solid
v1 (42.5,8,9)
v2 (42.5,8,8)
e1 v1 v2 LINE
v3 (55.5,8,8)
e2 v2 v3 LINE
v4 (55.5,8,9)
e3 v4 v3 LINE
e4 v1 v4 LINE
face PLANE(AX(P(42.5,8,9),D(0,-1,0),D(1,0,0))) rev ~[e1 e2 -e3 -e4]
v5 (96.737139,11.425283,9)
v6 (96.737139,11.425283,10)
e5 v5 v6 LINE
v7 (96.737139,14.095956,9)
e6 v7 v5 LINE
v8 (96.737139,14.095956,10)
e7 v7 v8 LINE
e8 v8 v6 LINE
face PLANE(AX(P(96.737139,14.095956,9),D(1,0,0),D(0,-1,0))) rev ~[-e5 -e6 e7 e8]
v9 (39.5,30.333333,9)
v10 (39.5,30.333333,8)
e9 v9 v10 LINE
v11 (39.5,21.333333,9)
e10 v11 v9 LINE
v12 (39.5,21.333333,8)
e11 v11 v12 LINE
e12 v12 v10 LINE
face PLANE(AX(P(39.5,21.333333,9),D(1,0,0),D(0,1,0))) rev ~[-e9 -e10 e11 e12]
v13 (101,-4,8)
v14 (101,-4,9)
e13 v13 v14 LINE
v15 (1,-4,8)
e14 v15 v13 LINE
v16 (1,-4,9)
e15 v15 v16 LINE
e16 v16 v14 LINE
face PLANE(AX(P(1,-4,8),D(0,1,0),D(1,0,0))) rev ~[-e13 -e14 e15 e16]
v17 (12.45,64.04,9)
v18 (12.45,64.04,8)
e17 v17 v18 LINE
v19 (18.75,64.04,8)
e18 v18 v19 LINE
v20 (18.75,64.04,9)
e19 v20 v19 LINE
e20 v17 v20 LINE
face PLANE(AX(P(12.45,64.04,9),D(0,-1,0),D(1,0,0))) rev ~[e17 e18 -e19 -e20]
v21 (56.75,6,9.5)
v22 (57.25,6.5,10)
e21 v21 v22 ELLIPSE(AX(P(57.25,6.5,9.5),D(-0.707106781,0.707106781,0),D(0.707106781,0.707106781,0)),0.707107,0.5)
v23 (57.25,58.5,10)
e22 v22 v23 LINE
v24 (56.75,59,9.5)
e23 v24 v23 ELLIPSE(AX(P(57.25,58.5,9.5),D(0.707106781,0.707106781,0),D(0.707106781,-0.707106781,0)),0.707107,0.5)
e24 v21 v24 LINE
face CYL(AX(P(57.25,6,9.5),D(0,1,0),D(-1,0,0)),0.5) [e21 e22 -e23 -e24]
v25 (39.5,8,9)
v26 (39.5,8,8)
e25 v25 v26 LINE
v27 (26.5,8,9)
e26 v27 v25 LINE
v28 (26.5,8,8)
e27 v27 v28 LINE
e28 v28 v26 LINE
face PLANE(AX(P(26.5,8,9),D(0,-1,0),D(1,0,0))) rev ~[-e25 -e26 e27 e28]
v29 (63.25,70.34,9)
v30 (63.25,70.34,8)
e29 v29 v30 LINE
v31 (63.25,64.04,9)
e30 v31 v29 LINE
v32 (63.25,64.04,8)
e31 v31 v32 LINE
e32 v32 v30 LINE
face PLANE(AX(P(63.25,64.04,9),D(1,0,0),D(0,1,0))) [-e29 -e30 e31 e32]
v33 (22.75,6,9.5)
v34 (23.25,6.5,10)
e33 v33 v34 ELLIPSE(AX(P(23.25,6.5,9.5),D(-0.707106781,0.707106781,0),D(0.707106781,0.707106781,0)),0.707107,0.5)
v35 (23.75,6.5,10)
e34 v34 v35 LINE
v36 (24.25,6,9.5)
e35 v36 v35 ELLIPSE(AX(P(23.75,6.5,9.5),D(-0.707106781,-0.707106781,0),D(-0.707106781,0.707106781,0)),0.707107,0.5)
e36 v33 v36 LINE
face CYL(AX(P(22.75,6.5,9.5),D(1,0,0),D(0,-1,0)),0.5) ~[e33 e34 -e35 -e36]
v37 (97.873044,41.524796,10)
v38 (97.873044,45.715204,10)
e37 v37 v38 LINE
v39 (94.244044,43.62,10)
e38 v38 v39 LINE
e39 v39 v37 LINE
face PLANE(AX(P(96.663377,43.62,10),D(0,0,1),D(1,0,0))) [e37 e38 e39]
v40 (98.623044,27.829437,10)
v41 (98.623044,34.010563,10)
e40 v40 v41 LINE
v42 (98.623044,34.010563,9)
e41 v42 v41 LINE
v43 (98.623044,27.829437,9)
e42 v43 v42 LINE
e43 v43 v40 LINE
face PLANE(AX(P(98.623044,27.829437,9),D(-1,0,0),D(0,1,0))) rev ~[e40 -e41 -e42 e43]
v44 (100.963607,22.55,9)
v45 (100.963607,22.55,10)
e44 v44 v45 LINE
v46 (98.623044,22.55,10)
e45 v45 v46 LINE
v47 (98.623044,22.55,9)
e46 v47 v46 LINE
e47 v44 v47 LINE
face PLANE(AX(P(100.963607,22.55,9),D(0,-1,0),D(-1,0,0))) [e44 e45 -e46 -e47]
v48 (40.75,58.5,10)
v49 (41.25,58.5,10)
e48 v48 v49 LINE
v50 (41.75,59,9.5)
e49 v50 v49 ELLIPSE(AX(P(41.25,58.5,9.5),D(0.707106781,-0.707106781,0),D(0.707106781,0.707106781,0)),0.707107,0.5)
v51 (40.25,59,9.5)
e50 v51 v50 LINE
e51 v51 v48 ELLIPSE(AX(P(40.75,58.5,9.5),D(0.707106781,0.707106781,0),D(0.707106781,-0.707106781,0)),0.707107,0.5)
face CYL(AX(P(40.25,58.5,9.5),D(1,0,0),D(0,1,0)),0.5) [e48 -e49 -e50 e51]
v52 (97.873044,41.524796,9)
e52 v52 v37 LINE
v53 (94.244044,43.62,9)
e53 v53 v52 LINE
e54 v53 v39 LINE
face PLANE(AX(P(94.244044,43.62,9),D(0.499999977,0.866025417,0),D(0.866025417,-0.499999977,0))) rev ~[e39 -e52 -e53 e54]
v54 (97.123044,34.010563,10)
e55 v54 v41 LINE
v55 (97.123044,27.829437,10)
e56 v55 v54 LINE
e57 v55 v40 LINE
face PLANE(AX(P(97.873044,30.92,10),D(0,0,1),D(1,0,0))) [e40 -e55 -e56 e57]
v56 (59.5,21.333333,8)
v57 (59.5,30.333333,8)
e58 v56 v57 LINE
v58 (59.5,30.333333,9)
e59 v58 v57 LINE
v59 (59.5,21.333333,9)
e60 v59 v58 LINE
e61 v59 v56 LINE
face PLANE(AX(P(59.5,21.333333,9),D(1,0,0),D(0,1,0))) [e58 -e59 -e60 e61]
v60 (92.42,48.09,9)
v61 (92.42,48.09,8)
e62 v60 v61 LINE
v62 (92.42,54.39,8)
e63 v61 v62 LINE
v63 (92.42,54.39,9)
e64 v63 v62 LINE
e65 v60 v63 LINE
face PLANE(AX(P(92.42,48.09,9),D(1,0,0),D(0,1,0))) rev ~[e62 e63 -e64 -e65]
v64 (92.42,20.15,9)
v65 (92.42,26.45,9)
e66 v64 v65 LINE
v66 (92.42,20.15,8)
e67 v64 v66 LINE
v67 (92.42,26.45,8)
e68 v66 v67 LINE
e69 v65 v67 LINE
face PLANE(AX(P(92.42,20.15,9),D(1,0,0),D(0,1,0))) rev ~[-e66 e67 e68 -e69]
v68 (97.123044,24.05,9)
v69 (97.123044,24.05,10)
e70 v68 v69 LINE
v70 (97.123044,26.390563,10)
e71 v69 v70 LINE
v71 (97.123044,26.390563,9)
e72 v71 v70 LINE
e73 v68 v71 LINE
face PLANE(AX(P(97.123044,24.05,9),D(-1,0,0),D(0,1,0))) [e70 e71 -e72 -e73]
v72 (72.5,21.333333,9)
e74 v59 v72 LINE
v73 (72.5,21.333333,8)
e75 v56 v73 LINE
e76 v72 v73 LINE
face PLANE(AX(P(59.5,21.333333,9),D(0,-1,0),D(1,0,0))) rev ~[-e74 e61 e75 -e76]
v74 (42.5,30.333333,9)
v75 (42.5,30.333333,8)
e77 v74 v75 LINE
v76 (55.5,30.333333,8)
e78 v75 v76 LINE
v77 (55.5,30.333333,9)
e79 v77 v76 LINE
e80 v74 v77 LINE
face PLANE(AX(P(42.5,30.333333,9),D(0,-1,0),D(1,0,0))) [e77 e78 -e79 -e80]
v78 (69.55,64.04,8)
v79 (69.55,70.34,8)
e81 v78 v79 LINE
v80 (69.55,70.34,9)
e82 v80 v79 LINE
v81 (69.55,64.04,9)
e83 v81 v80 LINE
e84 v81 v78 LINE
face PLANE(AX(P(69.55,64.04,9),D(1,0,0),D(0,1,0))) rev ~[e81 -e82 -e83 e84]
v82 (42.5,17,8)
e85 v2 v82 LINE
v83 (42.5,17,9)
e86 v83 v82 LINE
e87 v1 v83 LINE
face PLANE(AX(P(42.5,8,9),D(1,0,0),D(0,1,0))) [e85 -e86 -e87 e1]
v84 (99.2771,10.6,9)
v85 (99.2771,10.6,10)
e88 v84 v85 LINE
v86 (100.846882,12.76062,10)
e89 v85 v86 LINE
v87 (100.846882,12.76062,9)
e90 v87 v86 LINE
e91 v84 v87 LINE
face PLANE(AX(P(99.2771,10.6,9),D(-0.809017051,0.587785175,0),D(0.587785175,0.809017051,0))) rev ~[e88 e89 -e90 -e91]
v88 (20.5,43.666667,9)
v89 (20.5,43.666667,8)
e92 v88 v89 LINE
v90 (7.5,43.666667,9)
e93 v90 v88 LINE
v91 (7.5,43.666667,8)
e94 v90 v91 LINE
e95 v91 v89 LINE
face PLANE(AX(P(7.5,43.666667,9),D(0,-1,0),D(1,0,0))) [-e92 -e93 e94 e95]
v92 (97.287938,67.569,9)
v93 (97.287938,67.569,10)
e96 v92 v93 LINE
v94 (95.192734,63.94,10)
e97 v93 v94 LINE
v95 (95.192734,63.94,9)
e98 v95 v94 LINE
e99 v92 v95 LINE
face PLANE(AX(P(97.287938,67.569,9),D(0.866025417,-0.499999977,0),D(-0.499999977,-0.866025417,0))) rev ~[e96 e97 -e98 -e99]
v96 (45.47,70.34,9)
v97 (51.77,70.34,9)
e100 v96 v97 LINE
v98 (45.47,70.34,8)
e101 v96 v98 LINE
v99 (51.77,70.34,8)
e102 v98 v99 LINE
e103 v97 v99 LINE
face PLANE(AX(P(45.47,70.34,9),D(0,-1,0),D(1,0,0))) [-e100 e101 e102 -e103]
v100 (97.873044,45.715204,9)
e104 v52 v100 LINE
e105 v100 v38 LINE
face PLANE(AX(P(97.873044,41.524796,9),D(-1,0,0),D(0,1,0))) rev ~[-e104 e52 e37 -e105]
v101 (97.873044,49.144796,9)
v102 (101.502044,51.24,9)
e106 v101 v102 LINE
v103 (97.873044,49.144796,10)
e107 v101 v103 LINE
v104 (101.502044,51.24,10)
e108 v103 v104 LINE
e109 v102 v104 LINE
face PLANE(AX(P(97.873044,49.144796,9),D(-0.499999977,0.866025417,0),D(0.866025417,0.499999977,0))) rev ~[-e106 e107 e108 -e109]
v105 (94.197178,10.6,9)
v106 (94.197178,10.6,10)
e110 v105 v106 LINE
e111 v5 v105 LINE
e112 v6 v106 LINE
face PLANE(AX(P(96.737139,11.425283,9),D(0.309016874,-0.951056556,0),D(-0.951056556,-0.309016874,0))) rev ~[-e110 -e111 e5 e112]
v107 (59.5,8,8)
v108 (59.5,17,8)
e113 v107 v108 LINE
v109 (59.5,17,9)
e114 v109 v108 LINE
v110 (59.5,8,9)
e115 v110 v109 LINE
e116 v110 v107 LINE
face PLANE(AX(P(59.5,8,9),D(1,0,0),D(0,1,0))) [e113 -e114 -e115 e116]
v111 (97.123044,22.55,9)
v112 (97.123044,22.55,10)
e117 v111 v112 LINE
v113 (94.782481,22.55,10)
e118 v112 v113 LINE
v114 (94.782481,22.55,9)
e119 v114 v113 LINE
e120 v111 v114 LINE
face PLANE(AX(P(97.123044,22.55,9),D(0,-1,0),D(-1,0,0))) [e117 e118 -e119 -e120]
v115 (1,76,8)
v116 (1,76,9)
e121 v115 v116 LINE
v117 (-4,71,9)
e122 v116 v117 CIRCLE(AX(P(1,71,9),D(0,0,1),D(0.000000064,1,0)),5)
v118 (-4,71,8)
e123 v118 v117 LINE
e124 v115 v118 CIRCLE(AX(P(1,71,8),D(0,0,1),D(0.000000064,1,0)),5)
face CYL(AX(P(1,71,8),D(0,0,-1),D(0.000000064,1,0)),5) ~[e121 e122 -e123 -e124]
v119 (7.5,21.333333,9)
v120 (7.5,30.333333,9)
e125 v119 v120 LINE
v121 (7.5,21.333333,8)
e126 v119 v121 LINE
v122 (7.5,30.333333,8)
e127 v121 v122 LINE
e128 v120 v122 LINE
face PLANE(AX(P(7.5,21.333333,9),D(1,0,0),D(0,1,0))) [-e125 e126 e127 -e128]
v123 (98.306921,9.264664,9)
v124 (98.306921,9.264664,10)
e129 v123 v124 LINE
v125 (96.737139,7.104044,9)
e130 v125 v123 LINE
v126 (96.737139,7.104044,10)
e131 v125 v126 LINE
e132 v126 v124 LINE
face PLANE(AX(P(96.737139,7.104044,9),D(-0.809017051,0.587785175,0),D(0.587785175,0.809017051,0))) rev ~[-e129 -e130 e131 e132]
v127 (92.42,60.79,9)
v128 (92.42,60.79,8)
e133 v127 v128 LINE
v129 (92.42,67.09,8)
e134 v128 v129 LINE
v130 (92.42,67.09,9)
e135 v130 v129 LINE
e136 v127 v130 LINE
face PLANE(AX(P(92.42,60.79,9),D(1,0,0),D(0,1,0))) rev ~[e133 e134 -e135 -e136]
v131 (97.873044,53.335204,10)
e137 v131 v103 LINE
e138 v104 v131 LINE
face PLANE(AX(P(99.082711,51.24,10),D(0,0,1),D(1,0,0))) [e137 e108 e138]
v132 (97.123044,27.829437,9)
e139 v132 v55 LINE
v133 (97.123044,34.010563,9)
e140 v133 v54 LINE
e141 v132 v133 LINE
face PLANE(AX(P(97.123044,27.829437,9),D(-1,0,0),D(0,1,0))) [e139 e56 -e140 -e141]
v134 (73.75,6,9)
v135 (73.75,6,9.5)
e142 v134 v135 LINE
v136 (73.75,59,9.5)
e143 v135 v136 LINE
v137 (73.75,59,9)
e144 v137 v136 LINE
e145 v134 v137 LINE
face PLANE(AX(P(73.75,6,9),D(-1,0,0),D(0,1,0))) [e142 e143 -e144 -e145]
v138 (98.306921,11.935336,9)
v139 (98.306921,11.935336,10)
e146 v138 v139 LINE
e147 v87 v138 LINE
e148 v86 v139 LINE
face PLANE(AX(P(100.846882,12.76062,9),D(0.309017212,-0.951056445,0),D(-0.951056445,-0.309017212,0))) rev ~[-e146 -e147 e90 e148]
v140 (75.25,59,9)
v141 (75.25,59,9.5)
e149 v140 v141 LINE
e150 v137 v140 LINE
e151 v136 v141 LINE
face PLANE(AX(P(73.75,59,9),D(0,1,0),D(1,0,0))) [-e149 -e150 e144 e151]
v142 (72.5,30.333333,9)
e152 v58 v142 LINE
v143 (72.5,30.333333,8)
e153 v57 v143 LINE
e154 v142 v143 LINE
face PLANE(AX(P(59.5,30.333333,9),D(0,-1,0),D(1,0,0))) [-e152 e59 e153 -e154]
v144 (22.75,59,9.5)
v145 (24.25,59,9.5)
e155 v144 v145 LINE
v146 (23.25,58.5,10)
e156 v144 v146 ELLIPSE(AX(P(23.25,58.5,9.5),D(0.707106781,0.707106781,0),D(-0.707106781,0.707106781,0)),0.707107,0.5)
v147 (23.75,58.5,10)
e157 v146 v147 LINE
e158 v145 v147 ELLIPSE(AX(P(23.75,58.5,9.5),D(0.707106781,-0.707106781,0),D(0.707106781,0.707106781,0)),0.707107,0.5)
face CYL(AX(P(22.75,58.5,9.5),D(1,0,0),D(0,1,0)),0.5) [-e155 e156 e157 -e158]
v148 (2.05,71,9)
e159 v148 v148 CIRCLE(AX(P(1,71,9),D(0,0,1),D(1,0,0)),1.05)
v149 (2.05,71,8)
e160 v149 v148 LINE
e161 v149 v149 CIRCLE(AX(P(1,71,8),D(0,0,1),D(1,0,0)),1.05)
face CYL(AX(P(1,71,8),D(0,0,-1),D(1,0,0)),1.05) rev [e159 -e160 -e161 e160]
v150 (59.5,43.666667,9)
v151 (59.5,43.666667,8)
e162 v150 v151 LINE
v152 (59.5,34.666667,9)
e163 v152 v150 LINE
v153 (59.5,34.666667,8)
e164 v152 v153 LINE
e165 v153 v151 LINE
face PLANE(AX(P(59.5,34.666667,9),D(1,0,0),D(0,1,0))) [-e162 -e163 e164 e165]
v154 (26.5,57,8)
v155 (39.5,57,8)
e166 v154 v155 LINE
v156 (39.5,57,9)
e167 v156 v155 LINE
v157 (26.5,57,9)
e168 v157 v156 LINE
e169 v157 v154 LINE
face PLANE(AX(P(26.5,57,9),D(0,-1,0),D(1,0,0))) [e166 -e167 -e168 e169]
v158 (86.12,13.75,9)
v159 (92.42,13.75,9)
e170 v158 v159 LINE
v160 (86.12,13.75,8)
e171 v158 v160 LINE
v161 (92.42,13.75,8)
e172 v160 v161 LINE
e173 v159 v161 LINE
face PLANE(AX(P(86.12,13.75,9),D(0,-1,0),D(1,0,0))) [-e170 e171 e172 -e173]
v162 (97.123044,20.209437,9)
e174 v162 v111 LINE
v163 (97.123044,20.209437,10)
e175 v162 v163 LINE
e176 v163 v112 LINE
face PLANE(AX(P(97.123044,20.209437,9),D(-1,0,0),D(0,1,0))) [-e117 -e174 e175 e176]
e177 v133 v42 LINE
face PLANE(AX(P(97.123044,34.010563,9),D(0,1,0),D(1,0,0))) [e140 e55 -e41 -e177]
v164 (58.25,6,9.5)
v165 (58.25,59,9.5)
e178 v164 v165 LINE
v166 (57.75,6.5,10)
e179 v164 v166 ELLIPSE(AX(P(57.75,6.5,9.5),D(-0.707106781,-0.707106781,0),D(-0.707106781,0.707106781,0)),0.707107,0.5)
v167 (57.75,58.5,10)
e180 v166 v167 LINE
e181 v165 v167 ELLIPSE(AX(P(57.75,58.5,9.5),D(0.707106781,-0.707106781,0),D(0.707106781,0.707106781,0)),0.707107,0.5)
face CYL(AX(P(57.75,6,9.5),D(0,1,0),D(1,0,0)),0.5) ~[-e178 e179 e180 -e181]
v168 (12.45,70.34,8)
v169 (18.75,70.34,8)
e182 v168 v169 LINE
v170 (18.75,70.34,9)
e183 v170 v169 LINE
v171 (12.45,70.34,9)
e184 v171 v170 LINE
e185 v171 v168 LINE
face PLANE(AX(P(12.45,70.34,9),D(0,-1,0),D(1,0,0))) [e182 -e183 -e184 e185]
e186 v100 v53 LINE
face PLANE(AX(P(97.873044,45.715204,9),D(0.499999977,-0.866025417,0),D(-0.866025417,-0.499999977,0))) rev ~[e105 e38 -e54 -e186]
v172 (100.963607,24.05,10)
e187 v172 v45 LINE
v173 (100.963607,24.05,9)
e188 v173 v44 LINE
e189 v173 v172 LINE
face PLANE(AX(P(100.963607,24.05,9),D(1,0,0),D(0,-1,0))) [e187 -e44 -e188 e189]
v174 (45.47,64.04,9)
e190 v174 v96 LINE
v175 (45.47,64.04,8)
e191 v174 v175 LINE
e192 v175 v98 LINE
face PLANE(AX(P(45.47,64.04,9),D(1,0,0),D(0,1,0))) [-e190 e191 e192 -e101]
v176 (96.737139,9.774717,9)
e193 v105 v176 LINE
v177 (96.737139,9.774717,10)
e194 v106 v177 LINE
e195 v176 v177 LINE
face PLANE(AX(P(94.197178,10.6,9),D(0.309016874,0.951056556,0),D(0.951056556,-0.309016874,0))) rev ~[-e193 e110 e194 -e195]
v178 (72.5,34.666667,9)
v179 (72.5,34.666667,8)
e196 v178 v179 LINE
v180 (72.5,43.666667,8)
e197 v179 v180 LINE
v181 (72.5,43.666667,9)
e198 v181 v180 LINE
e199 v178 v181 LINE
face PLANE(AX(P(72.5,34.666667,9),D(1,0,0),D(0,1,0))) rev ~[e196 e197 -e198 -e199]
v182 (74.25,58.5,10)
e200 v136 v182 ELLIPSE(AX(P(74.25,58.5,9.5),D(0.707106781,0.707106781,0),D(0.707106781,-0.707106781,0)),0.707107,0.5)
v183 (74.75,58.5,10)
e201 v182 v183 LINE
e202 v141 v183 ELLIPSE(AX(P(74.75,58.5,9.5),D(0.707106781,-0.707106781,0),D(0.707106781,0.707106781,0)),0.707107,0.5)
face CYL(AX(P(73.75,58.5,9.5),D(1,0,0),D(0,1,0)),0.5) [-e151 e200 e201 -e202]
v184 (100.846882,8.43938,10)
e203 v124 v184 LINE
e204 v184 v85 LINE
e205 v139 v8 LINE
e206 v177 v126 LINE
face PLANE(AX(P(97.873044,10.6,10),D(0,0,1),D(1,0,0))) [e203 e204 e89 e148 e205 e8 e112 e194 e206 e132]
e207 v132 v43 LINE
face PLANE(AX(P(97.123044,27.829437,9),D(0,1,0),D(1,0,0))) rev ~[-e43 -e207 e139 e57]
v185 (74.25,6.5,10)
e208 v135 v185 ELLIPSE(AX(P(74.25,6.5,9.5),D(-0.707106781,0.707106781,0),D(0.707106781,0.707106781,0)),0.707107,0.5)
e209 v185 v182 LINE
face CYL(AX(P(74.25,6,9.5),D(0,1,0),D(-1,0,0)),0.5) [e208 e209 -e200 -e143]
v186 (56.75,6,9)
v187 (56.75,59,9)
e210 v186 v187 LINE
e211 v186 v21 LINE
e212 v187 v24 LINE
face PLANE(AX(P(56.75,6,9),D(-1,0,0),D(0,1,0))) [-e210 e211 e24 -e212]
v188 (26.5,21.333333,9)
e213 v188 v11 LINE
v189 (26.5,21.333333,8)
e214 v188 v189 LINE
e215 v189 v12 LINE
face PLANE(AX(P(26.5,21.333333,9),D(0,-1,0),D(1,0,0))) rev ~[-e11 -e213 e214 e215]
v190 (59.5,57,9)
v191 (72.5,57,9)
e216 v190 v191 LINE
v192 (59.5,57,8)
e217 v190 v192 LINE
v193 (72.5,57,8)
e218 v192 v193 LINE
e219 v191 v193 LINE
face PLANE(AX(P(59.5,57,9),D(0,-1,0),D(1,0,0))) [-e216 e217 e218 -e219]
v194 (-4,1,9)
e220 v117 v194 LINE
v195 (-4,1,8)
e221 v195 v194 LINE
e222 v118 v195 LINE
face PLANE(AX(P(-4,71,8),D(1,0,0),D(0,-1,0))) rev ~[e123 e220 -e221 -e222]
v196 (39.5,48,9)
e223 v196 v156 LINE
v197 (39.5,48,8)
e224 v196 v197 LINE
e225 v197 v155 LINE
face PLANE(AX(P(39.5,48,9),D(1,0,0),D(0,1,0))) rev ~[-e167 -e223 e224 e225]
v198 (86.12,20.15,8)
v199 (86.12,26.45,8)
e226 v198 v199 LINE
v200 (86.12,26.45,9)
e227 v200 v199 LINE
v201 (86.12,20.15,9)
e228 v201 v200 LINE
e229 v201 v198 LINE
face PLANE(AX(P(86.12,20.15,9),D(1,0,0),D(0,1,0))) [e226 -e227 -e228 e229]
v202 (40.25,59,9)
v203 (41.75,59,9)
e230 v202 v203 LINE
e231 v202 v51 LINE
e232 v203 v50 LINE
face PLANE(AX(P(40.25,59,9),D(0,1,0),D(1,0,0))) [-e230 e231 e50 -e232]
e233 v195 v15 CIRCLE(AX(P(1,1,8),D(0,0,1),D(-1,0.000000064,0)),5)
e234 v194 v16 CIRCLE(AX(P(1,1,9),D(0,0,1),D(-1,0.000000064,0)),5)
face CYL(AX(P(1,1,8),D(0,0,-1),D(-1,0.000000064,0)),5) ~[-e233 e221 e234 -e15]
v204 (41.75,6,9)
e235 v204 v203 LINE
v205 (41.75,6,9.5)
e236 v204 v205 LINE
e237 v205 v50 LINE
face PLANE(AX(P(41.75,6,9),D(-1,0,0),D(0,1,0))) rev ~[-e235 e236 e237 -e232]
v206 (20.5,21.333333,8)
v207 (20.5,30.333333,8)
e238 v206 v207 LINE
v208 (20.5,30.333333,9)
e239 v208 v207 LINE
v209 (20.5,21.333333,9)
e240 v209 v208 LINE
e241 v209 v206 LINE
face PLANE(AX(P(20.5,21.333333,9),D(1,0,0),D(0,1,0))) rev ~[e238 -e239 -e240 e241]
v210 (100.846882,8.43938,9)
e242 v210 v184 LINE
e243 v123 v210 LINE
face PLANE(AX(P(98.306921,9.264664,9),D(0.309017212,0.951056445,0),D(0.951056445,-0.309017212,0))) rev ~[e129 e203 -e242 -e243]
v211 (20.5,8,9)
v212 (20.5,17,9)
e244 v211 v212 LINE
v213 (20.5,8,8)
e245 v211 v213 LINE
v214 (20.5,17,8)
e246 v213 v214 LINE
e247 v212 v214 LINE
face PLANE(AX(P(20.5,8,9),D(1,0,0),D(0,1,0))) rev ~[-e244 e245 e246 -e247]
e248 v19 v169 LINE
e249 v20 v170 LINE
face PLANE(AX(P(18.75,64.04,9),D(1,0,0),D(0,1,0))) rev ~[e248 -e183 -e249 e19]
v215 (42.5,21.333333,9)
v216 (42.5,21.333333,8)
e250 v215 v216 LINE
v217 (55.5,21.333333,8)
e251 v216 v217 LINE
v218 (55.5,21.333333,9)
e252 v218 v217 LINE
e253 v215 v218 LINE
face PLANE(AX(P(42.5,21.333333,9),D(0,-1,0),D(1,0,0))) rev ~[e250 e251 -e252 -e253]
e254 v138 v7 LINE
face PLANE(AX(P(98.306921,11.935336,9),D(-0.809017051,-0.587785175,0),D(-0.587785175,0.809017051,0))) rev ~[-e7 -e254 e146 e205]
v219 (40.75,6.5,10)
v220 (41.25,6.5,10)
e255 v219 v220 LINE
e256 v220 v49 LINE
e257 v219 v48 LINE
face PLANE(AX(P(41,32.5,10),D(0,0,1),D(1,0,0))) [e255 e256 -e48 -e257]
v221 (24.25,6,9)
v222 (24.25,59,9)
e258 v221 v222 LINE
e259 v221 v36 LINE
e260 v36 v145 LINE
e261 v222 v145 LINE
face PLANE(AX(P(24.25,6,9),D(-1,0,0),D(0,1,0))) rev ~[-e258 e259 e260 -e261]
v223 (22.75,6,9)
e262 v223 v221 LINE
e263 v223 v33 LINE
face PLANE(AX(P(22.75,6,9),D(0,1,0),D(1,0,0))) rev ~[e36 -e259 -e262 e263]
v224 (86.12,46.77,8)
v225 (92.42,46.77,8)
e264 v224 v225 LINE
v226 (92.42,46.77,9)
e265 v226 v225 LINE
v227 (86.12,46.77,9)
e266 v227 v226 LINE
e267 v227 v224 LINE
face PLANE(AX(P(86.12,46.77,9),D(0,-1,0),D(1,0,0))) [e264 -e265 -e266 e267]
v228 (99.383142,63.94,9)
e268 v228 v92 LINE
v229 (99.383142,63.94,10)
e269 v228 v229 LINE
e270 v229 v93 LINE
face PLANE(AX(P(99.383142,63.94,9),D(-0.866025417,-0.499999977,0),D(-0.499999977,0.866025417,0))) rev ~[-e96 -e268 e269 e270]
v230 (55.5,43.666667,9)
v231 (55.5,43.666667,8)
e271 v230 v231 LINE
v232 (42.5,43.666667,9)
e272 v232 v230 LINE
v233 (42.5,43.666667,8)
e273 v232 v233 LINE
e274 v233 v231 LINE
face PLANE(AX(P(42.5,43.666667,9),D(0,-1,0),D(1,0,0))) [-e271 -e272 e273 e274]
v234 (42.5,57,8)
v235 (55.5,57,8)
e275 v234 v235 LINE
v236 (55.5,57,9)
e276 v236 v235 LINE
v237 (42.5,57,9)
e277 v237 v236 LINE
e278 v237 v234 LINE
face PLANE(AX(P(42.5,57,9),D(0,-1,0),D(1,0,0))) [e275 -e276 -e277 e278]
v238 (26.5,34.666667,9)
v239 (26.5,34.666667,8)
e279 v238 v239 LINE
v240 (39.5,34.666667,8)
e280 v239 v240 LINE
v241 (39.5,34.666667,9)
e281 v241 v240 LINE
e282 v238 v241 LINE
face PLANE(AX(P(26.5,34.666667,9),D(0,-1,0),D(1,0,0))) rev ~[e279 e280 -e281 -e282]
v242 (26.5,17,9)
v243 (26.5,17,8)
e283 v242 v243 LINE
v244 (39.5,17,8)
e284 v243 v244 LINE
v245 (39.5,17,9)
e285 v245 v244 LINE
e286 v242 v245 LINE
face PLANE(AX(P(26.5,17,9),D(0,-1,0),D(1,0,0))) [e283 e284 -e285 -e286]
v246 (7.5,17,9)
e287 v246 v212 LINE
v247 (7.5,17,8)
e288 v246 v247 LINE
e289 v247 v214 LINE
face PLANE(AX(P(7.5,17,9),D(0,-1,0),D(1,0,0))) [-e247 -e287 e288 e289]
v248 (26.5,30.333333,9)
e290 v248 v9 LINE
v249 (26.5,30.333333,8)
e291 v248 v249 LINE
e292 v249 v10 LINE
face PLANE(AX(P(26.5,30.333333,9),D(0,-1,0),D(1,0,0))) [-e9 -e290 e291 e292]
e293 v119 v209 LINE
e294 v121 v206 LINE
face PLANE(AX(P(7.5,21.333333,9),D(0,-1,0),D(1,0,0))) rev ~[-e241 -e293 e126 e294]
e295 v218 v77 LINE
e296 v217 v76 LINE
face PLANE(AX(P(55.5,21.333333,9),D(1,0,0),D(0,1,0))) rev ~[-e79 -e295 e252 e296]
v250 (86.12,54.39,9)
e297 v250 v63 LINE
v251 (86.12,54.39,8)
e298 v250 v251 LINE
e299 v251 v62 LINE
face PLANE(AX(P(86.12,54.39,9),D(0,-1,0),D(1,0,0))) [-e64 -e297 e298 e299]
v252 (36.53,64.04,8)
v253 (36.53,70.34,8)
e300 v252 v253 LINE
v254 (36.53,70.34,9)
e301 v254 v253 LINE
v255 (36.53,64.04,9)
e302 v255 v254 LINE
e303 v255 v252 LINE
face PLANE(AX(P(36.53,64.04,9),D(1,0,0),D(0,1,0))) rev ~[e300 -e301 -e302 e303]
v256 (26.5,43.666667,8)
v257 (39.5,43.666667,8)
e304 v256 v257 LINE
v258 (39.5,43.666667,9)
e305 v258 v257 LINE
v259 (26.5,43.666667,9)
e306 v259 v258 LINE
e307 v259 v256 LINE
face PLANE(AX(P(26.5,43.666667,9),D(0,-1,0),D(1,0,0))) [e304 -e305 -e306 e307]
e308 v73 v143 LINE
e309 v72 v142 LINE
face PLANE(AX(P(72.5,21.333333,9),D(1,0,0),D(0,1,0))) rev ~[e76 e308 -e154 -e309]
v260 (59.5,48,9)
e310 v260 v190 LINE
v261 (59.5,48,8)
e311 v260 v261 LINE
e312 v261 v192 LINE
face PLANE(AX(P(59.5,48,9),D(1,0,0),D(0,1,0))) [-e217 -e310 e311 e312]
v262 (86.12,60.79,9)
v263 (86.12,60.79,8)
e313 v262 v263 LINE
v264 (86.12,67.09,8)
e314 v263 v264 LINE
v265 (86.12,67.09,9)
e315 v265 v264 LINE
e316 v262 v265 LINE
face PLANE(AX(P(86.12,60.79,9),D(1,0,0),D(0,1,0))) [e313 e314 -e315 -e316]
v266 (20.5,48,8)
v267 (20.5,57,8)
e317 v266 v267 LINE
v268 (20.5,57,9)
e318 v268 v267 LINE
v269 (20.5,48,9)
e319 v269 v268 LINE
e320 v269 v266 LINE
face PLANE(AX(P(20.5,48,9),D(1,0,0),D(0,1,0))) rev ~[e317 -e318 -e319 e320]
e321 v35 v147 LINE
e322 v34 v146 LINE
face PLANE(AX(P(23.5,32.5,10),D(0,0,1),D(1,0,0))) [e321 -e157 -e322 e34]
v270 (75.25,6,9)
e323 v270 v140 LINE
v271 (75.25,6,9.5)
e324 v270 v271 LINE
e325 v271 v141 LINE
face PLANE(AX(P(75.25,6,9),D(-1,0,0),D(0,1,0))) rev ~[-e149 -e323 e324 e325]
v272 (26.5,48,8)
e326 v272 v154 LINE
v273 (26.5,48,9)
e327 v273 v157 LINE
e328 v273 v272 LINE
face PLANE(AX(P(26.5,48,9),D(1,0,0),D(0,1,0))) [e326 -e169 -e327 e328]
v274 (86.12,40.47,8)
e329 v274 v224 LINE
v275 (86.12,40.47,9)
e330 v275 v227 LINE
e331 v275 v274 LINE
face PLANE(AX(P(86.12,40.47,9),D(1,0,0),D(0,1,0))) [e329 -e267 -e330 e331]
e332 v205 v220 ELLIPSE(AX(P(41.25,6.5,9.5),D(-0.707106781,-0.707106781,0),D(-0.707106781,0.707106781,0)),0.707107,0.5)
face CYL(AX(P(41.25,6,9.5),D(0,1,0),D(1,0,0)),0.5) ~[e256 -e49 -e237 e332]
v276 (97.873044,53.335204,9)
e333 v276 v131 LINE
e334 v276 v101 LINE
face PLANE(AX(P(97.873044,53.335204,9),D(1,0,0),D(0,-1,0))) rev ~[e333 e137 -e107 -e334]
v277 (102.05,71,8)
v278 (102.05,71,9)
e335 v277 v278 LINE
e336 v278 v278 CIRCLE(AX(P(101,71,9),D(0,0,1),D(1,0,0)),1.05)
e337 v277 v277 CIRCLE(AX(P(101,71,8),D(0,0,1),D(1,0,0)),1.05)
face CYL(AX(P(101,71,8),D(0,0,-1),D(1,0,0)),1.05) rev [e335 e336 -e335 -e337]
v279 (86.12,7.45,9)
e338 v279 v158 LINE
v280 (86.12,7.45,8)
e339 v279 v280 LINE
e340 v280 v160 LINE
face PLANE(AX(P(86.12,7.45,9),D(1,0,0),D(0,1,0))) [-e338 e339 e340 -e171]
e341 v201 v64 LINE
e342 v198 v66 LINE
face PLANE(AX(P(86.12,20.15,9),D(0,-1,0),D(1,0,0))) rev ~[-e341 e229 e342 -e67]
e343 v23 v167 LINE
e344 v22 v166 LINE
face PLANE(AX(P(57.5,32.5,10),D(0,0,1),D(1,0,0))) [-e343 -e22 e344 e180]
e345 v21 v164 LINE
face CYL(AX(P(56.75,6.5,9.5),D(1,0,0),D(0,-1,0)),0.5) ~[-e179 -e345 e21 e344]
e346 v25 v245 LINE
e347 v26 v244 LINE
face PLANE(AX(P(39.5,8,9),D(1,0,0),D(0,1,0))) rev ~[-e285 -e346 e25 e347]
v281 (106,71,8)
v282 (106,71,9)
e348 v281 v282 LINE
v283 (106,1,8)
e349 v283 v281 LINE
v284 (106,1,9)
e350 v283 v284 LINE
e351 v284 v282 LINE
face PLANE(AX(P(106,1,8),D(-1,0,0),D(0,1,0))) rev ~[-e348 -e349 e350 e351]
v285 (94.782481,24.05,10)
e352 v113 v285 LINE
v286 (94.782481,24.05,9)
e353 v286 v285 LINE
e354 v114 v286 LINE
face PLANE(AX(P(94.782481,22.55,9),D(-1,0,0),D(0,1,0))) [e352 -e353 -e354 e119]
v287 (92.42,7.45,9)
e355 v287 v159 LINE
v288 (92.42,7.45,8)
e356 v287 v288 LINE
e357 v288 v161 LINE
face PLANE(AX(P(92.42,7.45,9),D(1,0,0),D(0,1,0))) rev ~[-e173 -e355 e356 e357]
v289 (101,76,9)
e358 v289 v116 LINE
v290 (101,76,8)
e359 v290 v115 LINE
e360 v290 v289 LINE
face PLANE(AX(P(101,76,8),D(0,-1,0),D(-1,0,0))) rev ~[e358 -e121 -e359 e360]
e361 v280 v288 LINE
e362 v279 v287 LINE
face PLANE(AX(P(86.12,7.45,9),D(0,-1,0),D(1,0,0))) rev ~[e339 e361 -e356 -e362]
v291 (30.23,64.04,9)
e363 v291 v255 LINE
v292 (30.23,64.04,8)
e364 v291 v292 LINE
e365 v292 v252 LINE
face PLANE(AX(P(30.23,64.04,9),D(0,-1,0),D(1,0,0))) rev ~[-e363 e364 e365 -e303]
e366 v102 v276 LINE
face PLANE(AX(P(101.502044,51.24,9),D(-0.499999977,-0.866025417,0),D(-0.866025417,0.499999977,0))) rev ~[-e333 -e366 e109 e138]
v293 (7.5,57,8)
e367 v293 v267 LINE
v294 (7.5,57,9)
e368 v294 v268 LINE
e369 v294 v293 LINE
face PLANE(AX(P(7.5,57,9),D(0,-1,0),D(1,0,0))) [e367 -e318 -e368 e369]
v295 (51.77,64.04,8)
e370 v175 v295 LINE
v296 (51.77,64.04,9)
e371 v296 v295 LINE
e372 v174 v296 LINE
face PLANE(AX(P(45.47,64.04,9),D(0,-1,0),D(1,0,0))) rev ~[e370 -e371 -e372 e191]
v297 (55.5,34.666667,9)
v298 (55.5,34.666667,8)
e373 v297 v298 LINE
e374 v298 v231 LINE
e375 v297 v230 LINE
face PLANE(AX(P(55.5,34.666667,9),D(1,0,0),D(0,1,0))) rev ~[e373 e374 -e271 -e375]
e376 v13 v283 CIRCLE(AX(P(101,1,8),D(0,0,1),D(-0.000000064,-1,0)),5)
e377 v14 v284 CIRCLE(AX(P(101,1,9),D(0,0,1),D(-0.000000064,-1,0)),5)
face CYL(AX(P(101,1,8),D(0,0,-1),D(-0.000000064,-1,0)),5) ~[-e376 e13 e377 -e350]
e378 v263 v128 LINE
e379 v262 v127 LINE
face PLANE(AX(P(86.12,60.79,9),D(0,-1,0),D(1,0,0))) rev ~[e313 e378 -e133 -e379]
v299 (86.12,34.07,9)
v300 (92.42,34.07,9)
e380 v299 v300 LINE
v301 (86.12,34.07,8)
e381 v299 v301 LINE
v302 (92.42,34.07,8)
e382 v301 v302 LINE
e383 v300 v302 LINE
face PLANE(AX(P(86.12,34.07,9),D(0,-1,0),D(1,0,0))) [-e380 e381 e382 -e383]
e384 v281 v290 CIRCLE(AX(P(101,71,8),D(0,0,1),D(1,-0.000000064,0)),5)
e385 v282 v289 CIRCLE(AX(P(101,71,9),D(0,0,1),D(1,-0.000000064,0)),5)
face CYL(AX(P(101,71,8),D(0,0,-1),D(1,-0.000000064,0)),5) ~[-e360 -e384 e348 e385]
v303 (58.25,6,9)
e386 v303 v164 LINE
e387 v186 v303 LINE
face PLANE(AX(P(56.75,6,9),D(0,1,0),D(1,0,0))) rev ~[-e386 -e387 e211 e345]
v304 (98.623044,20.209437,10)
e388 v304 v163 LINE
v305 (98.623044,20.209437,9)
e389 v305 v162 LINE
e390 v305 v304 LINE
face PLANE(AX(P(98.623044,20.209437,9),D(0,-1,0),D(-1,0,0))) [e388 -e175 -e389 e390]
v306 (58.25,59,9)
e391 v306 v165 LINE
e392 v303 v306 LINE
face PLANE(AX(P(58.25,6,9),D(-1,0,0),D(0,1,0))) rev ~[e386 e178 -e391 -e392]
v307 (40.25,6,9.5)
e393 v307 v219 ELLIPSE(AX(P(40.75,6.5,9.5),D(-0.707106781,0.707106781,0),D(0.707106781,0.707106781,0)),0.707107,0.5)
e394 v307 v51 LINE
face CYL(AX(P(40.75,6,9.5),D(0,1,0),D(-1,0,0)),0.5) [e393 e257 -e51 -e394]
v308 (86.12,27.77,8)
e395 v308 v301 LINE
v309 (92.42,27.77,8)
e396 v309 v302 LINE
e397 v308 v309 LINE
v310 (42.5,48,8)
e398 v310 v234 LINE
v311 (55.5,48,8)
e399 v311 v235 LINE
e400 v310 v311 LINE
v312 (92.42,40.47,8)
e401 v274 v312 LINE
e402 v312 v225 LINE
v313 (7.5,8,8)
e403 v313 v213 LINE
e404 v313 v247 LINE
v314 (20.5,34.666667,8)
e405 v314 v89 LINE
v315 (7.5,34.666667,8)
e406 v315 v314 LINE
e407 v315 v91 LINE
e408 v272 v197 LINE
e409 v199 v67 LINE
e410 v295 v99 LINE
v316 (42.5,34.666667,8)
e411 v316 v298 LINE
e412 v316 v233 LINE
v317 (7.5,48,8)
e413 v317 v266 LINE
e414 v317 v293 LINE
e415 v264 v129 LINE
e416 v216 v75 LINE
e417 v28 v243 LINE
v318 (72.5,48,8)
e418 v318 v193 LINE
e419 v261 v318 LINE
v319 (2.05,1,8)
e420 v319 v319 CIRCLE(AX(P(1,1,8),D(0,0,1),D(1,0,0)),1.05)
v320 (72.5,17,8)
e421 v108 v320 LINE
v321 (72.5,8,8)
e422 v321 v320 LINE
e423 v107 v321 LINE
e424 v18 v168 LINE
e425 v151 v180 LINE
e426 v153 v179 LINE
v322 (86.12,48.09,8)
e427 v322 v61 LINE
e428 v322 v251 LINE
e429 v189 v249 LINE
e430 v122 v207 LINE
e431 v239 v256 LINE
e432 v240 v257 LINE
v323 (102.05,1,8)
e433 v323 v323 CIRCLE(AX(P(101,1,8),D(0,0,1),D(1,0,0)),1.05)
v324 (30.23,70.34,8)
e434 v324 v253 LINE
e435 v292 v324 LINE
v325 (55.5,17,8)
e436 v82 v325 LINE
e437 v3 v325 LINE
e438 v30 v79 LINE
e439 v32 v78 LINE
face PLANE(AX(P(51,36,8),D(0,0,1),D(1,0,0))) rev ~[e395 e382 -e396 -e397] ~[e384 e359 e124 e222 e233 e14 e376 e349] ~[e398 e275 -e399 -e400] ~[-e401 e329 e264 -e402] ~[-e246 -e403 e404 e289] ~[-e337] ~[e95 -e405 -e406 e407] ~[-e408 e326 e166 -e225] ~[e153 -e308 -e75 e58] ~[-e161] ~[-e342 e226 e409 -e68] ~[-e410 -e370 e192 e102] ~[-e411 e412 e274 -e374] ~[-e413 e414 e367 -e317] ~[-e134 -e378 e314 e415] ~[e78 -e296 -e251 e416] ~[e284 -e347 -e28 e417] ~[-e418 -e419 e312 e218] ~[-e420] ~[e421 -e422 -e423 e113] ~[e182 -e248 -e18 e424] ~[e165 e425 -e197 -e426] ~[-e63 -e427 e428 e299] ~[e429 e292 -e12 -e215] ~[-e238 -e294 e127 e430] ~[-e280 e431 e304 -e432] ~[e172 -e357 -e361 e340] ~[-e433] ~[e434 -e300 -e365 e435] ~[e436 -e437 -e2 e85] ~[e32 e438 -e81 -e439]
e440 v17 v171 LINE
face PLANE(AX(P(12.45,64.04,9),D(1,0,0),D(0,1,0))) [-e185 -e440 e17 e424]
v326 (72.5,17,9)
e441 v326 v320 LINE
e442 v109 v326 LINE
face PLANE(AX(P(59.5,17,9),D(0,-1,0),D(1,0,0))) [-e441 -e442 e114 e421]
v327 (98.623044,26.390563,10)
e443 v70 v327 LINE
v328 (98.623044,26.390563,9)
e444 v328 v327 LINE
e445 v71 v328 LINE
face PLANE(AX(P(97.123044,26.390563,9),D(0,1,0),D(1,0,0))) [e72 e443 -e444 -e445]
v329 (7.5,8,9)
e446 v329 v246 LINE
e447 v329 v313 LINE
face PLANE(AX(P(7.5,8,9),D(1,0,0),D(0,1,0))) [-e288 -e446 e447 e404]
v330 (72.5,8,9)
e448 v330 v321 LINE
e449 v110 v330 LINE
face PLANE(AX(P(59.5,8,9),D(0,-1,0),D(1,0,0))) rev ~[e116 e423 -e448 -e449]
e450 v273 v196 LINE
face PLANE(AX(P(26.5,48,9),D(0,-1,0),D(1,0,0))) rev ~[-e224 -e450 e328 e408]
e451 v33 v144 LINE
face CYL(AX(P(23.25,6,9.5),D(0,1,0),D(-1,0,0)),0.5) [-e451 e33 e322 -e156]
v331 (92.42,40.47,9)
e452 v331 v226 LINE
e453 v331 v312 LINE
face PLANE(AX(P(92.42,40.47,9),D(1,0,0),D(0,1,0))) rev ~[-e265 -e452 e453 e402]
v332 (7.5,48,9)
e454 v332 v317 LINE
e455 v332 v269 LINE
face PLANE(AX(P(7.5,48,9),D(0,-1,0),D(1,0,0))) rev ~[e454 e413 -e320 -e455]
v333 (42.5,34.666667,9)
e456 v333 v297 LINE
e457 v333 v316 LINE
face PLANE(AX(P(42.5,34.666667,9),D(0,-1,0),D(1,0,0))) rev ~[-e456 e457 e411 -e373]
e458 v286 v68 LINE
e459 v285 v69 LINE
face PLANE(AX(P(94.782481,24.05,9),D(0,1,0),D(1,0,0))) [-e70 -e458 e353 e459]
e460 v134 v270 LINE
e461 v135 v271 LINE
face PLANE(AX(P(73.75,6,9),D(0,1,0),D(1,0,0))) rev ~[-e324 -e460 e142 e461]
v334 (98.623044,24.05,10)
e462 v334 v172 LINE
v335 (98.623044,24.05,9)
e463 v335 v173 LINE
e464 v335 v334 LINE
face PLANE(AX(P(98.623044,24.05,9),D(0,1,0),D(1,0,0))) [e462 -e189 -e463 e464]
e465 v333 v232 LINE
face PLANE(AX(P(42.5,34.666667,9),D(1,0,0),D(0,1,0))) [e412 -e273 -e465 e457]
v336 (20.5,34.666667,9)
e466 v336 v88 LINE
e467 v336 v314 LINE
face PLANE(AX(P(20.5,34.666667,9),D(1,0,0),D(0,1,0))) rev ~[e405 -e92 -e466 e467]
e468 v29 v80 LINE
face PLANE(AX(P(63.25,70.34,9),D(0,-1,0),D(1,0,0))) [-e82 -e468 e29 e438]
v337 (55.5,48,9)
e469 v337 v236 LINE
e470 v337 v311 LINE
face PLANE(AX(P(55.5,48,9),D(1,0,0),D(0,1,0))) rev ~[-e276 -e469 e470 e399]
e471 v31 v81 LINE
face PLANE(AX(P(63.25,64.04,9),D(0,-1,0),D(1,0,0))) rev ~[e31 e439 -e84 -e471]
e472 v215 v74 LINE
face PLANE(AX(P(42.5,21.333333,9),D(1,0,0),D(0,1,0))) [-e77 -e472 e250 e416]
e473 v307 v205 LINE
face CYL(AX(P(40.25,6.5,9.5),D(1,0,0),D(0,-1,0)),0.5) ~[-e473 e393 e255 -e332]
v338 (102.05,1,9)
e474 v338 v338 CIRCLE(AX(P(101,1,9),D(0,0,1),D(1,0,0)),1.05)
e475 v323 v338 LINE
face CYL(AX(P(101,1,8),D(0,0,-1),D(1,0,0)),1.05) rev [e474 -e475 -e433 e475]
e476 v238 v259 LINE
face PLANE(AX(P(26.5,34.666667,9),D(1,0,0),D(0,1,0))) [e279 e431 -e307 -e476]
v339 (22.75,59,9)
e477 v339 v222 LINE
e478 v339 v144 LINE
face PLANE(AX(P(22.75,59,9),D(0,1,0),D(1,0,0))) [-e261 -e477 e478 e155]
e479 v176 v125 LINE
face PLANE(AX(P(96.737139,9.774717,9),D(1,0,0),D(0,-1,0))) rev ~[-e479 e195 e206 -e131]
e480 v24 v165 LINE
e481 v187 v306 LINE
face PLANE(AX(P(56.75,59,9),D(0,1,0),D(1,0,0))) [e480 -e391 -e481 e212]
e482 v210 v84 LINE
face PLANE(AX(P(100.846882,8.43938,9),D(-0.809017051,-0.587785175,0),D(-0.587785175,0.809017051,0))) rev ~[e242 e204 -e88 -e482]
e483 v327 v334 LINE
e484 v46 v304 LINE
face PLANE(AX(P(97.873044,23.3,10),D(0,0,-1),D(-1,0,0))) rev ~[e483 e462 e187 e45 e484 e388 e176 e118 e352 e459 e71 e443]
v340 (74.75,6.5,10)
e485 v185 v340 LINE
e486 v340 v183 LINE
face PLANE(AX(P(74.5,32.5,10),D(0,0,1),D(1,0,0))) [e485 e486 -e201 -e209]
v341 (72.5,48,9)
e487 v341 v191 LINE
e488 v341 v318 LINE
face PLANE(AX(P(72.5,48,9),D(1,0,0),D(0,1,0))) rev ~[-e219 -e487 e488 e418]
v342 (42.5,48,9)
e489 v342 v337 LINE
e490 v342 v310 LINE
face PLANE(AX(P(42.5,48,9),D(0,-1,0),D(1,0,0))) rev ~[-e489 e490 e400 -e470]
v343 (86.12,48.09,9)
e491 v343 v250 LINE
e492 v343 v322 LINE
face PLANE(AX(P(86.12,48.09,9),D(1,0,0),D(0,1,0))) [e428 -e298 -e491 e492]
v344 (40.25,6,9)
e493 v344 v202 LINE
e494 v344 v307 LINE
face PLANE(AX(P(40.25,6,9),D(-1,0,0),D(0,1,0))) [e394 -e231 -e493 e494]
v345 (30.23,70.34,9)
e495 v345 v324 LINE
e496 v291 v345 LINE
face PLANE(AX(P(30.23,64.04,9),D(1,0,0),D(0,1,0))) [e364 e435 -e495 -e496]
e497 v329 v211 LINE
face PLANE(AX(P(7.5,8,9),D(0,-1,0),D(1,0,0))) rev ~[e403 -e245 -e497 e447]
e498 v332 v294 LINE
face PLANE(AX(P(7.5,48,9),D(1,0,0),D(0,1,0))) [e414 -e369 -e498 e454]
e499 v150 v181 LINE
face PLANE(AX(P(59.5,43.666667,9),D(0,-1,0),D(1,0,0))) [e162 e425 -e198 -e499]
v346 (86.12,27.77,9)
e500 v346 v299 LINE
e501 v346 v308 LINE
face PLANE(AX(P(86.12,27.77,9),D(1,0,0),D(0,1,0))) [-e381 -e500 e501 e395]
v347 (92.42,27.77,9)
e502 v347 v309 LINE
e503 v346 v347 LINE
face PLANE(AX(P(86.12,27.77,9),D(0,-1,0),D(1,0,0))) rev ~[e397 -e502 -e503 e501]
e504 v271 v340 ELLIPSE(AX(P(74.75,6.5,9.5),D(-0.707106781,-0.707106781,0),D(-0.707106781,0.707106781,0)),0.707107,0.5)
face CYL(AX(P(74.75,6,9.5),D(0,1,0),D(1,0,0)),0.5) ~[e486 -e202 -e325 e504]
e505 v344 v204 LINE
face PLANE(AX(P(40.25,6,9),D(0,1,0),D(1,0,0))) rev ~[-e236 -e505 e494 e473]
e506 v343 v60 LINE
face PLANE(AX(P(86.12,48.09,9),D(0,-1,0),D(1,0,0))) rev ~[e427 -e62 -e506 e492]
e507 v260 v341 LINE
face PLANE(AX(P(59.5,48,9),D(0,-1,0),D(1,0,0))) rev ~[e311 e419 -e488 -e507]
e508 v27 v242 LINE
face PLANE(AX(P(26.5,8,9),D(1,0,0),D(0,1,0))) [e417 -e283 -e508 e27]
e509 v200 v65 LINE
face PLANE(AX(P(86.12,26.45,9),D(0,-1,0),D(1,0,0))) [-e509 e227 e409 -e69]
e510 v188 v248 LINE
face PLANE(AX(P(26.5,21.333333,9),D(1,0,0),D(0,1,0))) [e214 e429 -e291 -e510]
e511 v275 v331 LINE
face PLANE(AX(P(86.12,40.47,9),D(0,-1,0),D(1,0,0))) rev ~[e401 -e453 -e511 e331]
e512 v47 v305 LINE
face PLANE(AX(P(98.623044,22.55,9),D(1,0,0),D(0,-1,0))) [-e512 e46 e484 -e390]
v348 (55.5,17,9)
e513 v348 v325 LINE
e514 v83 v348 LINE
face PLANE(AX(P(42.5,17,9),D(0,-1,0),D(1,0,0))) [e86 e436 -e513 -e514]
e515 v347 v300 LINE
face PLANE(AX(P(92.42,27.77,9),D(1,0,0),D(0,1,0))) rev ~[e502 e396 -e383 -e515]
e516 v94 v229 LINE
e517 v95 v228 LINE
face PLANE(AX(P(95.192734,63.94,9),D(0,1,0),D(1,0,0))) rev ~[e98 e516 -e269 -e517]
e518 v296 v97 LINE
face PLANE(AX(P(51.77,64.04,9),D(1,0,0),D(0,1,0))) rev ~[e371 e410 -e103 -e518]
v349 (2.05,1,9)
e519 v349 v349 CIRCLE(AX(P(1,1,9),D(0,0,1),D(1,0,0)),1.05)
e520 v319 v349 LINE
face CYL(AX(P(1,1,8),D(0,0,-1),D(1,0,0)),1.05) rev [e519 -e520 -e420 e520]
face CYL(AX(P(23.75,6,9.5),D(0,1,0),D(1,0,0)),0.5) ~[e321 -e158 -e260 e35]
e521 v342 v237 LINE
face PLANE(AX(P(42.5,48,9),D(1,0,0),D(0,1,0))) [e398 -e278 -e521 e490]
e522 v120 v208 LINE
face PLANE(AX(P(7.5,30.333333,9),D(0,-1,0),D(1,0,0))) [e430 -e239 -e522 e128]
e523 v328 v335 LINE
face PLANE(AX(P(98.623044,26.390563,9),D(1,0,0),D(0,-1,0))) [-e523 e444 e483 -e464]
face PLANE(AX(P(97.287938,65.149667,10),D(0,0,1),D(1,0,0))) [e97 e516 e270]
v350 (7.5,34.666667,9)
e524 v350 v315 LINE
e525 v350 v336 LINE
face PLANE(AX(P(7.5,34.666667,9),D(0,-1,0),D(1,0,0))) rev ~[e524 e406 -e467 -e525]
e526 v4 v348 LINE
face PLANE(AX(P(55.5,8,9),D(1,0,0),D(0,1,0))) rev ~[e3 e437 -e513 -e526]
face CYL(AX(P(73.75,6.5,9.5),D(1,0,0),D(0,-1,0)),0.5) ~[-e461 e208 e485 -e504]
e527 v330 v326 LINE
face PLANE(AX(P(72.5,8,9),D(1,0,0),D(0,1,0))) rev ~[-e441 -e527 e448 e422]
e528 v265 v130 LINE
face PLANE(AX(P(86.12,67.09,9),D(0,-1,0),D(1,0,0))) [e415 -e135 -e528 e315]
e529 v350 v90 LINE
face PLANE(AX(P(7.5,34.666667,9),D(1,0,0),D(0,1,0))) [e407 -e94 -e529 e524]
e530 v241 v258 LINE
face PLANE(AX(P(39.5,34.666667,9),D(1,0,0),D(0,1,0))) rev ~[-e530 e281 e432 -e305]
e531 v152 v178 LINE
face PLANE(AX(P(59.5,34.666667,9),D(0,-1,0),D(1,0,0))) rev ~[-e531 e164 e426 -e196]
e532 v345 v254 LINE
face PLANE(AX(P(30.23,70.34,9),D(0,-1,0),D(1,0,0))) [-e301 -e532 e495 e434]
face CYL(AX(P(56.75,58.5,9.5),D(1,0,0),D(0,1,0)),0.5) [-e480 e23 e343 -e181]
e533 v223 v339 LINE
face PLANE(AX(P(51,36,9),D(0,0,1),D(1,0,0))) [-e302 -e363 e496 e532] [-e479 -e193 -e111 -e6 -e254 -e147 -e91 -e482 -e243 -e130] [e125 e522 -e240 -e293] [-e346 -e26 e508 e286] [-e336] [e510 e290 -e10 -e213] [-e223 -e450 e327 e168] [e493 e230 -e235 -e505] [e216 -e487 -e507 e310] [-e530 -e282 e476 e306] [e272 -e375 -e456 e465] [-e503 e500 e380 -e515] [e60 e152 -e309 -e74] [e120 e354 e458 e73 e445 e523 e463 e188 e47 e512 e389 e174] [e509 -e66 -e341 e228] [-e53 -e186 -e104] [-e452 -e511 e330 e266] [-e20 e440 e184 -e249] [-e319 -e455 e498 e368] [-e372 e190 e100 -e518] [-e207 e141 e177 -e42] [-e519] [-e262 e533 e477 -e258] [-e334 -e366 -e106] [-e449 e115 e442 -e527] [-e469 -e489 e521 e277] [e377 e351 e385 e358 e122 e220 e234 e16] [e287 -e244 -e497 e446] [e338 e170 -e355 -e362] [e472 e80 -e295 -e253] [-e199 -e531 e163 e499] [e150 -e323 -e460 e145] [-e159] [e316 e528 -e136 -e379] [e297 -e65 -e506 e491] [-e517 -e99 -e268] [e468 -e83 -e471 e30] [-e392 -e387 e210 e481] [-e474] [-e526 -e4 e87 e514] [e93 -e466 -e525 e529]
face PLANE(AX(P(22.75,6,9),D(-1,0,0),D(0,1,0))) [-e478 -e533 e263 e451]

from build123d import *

# Parameters (mm, degrees)
SKETCH045_R     = 1.05
PAD031_DEPTH    = 1
SKETCH046_W     = 6.3
SKETCH046_H     = 6.3
POCKET013_DEPTH = 1.001
SKETCH047_W     = 13
SKETCH047_H     = 9
POCKET014_DEPTH = 1.001
SKETCH049_W     = 1.5
SKETCH049_H     = 53
PAD032_DEPTH    = 1
FILLET001_R     = 0.5
FILLET002_R     = 0.5
FILLET003_R     = 0.5
SKETCH048_W     = 1.5
SKETCH048_H     = 6.181126
PAD033_DEPTH    = 1


with BuildPart() as part:
    # Sketch045 → Pad031 (new body)
    with BuildSketch(Plane.XY):
        with BuildLine():
            Line((-4, 71), (-4, 1))
            ThreePointArc((-4, 1), (-2.535534, -2.535534), (1, -4))
            Line((1, -4), (101, -4))
            ThreePointArc((101, -4), (104.535534, -2.535534), (106, 1))
            Line((106, 1), (106, 71))
            ThreePointArc((106, 71), (104.535534, 74.535534), (101, 76))
            Line((101, 76), (1, 76))
            ThreePointArc((1, 76), (-2.535534, 74.535534), (-4, 71))
        make_face()
        with Locations((1, 71)):
            Circle(SKETCH045_R, mode=Mode.SUBTRACT)
        with Locations((1, 1)):
            Circle(SKETCH045_R, mode=Mode.SUBTRACT)
        with Locations((101, 1)):
            Circle(SKETCH045_R, mode=Mode.SUBTRACT)
        with Locations((101, 71)):
            Circle(SKETCH045_R, mode=Mode.SUBTRACT)
    extrude(amount=PAD031_DEPTH)

    # Sketch046 (on Face14 of Pad031) → Pocket013 (cut, through all)
    with BuildSketch(Plane.XY.offset(1)):
        with Locations((89.27, 63.94)):
            Rectangle(SKETCH046_W, SKETCH046_H)
        with Locations((89.27, 51.24)):
            Rectangle(SKETCH046_W, SKETCH046_H)
        with Locations((89.27, 43.62)):
            Rectangle(SKETCH046_W, SKETCH046_H)
        with Locations((89.27, 30.92)):
            Rectangle(SKETCH046_W, SKETCH046_H)
        with Locations((89.27, 23.3)):
            Rectangle(SKETCH046_W, SKETCH046_H)
        with Locations((89.27, 10.6)):
            Rectangle(SKETCH046_W, SKETCH046_H)
        with Locations((15.6, 67.19)):
            Rectangle(SKETCH046_W, SKETCH046_H)
        with Locations((33.38, 67.19)):
            Rectangle(SKETCH046_W, SKETCH046_H)
        with Locations((48.62, 67.19)):
            Rectangle(SKETCH046_W, SKETCH046_H)
        with Locations((66.4, 67.19)):
            Rectangle(SKETCH046_W, SKETCH046_H)
    extrude(amount=-POCKET013_DEPTH, mode=Mode.SUBTRACT)

    # Sketch047 (on Face5 of Pocket013) → Pocket014 (cut, through all)
    with BuildSketch(Plane.XY.offset(1)):
        with Locations((14, 52.5)):
            Rectangle(SKETCH047_W, SKETCH047_H)
        with Locations((14, 39.166667)):
            Rectangle(SKETCH047_W, SKETCH047_H)
        with Locations((14, 25.833333)):
            Rectangle(SKETCH047_W, SKETCH047_H)
        with Locations((14, 12.5)):
            Rectangle(SKETCH047_W, SKETCH047_H)
        with Locations((33, 39.166667)):
            Rectangle(SKETCH047_W, SKETCH047_H)
        with Locations((33, 25.833333)):
            Rectangle(SKETCH047_W, SKETCH047_H)
        with Locations((33, 12.5)):
            Rectangle(SKETCH047_W, SKETCH047_H)
        with Locations((49, 39.166667)):
            Rectangle(SKETCH047_W, SKETCH047_H)
        with Locations((49, 25.833333)):
            Rectangle(SKETCH047_W, SKETCH047_H)
        with Locations((49, 12.5)):
            Rectangle(SKETCH047_W, SKETCH047_H)
        with Locations((66, 39.166667)):
            Rectangle(SKETCH047_W, SKETCH047_H)
        with Locations((66, 25.833333)):
            Rectangle(SKETCH047_W, SKETCH047_H)
        with Locations((66, 12.5)):
            Rectangle(SKETCH047_W, SKETCH047_H)
        with Locations((33, 52.5)):
            Rectangle(SKETCH047_W, SKETCH047_H)
        with Locations((49, 52.5)):
            Rectangle(SKETCH047_W, SKETCH047_H)
        with Locations((66, 52.5)):
            Rectangle(SKETCH047_W, SKETCH047_H)
    extrude(amount=-POCKET014_DEPTH, mode=Mode.SUBTRACT)

    # Sketch049 (on Face5 of Pocket014) → Pad032 (join)
    with BuildSketch(Plane.XY.offset(1)):
        with Locations((23.5, 32.5)):
            Rectangle(SKETCH049_W, SKETCH049_H)
        with Locations((41, 32.5)):
            Rectangle(SKETCH049_W, SKETCH049_H)
        with Locations((57.5, 32.5)):
            Rectangle(SKETCH049_W, SKETCH049_H)
        with Locations((74.5, 32.5)):
            Rectangle(SKETCH049_W, SKETCH049_H)
    extrude(amount=PAD032_DEPTH)

    # Fillet001
    fillet001_edges = [part.edges().sort_by_distance(p)[0] for p in [
        (24.25, 32.5, 2),
        (23.5, 6, 2),
        (22.75, 32.5, 2),
        (23.5, 59, 2),
    ]]
    fillet(fillet001_edges, radius=FILLET001_R)

    # Fillet002
    fillet002_edges = [part.edges().sort_by_distance(p)[0] for p in [
        (41, 59, 2),
        (41.75, 32.5, 2),
        (41, 6, 2),
        (40.25, 32.5, 2),
    ]]
    fillet(fillet002_edges, radius=FILLET002_R)

    # Fillet003
    fillet003_edges = [part.edges().sort_by_distance(p)[0] for p in [
        (57.5, 59, 2),
        (58.25, 32.5, 2),
        (57.5, 6, 2),
        (56.75, 32.5, 2),
        (74.5, 59, 2),
        (75.25, 32.5, 2),
        (74.5, 6, 2),
        (73.75, 32.5, 2),
    ]]
    fillet(fillet003_edges, radius=FILLET003_R)

    # Sketch048 (on Face5 of Pocket014) → Pad033 (join)
    with BuildSketch(Plane.XY.offset(1)):
        Polygon((94.197178, 10.6), (96.737139, 9.774717), (96.737139, 7.104044), (98.306921, 9.264664), (100.846882, 8.43938), (99.2771, 10.6), (100.846882, 12.76062), (98.306921, 11.935336), (96.737139, 14.095956), (96.737139, 11.425283), align=None)
        with Locations((97.873044, 30.92)):
            Rectangle(SKETCH048_W, SKETCH048_H)
        Polygon((97.123044, 26.390563), (98.623044, 26.390563), (98.623044, 24.05), (100.963607, 24.05), (100.963607, 22.55), (98.623044, 22.55), (98.623044, 20.209437), (97.123044, 20.209437), (97.123044, 22.55), (94.782481, 22.55), (94.782481, 24.05), (97.123044, 24.05), align=None)
        Polygon((94.244044, 43.62), (97.873044, 41.524796), (97.873044, 45.715204), align=None)
        Polygon((101.502044, 51.24), (97.873044, 53.335204), (97.873044, 49.144796), align=None)
        Polygon((97.287938, 67.569), (95.192734, 63.94), (99.383142, 63.94), align=None)
    extrude(amount=PAD033_DEPTH)


with BuildPart() as part_1:
    # Body008 placement: moved
    add(part.part.moved(Location((0, 0, 8))))


solid = part_1.part
